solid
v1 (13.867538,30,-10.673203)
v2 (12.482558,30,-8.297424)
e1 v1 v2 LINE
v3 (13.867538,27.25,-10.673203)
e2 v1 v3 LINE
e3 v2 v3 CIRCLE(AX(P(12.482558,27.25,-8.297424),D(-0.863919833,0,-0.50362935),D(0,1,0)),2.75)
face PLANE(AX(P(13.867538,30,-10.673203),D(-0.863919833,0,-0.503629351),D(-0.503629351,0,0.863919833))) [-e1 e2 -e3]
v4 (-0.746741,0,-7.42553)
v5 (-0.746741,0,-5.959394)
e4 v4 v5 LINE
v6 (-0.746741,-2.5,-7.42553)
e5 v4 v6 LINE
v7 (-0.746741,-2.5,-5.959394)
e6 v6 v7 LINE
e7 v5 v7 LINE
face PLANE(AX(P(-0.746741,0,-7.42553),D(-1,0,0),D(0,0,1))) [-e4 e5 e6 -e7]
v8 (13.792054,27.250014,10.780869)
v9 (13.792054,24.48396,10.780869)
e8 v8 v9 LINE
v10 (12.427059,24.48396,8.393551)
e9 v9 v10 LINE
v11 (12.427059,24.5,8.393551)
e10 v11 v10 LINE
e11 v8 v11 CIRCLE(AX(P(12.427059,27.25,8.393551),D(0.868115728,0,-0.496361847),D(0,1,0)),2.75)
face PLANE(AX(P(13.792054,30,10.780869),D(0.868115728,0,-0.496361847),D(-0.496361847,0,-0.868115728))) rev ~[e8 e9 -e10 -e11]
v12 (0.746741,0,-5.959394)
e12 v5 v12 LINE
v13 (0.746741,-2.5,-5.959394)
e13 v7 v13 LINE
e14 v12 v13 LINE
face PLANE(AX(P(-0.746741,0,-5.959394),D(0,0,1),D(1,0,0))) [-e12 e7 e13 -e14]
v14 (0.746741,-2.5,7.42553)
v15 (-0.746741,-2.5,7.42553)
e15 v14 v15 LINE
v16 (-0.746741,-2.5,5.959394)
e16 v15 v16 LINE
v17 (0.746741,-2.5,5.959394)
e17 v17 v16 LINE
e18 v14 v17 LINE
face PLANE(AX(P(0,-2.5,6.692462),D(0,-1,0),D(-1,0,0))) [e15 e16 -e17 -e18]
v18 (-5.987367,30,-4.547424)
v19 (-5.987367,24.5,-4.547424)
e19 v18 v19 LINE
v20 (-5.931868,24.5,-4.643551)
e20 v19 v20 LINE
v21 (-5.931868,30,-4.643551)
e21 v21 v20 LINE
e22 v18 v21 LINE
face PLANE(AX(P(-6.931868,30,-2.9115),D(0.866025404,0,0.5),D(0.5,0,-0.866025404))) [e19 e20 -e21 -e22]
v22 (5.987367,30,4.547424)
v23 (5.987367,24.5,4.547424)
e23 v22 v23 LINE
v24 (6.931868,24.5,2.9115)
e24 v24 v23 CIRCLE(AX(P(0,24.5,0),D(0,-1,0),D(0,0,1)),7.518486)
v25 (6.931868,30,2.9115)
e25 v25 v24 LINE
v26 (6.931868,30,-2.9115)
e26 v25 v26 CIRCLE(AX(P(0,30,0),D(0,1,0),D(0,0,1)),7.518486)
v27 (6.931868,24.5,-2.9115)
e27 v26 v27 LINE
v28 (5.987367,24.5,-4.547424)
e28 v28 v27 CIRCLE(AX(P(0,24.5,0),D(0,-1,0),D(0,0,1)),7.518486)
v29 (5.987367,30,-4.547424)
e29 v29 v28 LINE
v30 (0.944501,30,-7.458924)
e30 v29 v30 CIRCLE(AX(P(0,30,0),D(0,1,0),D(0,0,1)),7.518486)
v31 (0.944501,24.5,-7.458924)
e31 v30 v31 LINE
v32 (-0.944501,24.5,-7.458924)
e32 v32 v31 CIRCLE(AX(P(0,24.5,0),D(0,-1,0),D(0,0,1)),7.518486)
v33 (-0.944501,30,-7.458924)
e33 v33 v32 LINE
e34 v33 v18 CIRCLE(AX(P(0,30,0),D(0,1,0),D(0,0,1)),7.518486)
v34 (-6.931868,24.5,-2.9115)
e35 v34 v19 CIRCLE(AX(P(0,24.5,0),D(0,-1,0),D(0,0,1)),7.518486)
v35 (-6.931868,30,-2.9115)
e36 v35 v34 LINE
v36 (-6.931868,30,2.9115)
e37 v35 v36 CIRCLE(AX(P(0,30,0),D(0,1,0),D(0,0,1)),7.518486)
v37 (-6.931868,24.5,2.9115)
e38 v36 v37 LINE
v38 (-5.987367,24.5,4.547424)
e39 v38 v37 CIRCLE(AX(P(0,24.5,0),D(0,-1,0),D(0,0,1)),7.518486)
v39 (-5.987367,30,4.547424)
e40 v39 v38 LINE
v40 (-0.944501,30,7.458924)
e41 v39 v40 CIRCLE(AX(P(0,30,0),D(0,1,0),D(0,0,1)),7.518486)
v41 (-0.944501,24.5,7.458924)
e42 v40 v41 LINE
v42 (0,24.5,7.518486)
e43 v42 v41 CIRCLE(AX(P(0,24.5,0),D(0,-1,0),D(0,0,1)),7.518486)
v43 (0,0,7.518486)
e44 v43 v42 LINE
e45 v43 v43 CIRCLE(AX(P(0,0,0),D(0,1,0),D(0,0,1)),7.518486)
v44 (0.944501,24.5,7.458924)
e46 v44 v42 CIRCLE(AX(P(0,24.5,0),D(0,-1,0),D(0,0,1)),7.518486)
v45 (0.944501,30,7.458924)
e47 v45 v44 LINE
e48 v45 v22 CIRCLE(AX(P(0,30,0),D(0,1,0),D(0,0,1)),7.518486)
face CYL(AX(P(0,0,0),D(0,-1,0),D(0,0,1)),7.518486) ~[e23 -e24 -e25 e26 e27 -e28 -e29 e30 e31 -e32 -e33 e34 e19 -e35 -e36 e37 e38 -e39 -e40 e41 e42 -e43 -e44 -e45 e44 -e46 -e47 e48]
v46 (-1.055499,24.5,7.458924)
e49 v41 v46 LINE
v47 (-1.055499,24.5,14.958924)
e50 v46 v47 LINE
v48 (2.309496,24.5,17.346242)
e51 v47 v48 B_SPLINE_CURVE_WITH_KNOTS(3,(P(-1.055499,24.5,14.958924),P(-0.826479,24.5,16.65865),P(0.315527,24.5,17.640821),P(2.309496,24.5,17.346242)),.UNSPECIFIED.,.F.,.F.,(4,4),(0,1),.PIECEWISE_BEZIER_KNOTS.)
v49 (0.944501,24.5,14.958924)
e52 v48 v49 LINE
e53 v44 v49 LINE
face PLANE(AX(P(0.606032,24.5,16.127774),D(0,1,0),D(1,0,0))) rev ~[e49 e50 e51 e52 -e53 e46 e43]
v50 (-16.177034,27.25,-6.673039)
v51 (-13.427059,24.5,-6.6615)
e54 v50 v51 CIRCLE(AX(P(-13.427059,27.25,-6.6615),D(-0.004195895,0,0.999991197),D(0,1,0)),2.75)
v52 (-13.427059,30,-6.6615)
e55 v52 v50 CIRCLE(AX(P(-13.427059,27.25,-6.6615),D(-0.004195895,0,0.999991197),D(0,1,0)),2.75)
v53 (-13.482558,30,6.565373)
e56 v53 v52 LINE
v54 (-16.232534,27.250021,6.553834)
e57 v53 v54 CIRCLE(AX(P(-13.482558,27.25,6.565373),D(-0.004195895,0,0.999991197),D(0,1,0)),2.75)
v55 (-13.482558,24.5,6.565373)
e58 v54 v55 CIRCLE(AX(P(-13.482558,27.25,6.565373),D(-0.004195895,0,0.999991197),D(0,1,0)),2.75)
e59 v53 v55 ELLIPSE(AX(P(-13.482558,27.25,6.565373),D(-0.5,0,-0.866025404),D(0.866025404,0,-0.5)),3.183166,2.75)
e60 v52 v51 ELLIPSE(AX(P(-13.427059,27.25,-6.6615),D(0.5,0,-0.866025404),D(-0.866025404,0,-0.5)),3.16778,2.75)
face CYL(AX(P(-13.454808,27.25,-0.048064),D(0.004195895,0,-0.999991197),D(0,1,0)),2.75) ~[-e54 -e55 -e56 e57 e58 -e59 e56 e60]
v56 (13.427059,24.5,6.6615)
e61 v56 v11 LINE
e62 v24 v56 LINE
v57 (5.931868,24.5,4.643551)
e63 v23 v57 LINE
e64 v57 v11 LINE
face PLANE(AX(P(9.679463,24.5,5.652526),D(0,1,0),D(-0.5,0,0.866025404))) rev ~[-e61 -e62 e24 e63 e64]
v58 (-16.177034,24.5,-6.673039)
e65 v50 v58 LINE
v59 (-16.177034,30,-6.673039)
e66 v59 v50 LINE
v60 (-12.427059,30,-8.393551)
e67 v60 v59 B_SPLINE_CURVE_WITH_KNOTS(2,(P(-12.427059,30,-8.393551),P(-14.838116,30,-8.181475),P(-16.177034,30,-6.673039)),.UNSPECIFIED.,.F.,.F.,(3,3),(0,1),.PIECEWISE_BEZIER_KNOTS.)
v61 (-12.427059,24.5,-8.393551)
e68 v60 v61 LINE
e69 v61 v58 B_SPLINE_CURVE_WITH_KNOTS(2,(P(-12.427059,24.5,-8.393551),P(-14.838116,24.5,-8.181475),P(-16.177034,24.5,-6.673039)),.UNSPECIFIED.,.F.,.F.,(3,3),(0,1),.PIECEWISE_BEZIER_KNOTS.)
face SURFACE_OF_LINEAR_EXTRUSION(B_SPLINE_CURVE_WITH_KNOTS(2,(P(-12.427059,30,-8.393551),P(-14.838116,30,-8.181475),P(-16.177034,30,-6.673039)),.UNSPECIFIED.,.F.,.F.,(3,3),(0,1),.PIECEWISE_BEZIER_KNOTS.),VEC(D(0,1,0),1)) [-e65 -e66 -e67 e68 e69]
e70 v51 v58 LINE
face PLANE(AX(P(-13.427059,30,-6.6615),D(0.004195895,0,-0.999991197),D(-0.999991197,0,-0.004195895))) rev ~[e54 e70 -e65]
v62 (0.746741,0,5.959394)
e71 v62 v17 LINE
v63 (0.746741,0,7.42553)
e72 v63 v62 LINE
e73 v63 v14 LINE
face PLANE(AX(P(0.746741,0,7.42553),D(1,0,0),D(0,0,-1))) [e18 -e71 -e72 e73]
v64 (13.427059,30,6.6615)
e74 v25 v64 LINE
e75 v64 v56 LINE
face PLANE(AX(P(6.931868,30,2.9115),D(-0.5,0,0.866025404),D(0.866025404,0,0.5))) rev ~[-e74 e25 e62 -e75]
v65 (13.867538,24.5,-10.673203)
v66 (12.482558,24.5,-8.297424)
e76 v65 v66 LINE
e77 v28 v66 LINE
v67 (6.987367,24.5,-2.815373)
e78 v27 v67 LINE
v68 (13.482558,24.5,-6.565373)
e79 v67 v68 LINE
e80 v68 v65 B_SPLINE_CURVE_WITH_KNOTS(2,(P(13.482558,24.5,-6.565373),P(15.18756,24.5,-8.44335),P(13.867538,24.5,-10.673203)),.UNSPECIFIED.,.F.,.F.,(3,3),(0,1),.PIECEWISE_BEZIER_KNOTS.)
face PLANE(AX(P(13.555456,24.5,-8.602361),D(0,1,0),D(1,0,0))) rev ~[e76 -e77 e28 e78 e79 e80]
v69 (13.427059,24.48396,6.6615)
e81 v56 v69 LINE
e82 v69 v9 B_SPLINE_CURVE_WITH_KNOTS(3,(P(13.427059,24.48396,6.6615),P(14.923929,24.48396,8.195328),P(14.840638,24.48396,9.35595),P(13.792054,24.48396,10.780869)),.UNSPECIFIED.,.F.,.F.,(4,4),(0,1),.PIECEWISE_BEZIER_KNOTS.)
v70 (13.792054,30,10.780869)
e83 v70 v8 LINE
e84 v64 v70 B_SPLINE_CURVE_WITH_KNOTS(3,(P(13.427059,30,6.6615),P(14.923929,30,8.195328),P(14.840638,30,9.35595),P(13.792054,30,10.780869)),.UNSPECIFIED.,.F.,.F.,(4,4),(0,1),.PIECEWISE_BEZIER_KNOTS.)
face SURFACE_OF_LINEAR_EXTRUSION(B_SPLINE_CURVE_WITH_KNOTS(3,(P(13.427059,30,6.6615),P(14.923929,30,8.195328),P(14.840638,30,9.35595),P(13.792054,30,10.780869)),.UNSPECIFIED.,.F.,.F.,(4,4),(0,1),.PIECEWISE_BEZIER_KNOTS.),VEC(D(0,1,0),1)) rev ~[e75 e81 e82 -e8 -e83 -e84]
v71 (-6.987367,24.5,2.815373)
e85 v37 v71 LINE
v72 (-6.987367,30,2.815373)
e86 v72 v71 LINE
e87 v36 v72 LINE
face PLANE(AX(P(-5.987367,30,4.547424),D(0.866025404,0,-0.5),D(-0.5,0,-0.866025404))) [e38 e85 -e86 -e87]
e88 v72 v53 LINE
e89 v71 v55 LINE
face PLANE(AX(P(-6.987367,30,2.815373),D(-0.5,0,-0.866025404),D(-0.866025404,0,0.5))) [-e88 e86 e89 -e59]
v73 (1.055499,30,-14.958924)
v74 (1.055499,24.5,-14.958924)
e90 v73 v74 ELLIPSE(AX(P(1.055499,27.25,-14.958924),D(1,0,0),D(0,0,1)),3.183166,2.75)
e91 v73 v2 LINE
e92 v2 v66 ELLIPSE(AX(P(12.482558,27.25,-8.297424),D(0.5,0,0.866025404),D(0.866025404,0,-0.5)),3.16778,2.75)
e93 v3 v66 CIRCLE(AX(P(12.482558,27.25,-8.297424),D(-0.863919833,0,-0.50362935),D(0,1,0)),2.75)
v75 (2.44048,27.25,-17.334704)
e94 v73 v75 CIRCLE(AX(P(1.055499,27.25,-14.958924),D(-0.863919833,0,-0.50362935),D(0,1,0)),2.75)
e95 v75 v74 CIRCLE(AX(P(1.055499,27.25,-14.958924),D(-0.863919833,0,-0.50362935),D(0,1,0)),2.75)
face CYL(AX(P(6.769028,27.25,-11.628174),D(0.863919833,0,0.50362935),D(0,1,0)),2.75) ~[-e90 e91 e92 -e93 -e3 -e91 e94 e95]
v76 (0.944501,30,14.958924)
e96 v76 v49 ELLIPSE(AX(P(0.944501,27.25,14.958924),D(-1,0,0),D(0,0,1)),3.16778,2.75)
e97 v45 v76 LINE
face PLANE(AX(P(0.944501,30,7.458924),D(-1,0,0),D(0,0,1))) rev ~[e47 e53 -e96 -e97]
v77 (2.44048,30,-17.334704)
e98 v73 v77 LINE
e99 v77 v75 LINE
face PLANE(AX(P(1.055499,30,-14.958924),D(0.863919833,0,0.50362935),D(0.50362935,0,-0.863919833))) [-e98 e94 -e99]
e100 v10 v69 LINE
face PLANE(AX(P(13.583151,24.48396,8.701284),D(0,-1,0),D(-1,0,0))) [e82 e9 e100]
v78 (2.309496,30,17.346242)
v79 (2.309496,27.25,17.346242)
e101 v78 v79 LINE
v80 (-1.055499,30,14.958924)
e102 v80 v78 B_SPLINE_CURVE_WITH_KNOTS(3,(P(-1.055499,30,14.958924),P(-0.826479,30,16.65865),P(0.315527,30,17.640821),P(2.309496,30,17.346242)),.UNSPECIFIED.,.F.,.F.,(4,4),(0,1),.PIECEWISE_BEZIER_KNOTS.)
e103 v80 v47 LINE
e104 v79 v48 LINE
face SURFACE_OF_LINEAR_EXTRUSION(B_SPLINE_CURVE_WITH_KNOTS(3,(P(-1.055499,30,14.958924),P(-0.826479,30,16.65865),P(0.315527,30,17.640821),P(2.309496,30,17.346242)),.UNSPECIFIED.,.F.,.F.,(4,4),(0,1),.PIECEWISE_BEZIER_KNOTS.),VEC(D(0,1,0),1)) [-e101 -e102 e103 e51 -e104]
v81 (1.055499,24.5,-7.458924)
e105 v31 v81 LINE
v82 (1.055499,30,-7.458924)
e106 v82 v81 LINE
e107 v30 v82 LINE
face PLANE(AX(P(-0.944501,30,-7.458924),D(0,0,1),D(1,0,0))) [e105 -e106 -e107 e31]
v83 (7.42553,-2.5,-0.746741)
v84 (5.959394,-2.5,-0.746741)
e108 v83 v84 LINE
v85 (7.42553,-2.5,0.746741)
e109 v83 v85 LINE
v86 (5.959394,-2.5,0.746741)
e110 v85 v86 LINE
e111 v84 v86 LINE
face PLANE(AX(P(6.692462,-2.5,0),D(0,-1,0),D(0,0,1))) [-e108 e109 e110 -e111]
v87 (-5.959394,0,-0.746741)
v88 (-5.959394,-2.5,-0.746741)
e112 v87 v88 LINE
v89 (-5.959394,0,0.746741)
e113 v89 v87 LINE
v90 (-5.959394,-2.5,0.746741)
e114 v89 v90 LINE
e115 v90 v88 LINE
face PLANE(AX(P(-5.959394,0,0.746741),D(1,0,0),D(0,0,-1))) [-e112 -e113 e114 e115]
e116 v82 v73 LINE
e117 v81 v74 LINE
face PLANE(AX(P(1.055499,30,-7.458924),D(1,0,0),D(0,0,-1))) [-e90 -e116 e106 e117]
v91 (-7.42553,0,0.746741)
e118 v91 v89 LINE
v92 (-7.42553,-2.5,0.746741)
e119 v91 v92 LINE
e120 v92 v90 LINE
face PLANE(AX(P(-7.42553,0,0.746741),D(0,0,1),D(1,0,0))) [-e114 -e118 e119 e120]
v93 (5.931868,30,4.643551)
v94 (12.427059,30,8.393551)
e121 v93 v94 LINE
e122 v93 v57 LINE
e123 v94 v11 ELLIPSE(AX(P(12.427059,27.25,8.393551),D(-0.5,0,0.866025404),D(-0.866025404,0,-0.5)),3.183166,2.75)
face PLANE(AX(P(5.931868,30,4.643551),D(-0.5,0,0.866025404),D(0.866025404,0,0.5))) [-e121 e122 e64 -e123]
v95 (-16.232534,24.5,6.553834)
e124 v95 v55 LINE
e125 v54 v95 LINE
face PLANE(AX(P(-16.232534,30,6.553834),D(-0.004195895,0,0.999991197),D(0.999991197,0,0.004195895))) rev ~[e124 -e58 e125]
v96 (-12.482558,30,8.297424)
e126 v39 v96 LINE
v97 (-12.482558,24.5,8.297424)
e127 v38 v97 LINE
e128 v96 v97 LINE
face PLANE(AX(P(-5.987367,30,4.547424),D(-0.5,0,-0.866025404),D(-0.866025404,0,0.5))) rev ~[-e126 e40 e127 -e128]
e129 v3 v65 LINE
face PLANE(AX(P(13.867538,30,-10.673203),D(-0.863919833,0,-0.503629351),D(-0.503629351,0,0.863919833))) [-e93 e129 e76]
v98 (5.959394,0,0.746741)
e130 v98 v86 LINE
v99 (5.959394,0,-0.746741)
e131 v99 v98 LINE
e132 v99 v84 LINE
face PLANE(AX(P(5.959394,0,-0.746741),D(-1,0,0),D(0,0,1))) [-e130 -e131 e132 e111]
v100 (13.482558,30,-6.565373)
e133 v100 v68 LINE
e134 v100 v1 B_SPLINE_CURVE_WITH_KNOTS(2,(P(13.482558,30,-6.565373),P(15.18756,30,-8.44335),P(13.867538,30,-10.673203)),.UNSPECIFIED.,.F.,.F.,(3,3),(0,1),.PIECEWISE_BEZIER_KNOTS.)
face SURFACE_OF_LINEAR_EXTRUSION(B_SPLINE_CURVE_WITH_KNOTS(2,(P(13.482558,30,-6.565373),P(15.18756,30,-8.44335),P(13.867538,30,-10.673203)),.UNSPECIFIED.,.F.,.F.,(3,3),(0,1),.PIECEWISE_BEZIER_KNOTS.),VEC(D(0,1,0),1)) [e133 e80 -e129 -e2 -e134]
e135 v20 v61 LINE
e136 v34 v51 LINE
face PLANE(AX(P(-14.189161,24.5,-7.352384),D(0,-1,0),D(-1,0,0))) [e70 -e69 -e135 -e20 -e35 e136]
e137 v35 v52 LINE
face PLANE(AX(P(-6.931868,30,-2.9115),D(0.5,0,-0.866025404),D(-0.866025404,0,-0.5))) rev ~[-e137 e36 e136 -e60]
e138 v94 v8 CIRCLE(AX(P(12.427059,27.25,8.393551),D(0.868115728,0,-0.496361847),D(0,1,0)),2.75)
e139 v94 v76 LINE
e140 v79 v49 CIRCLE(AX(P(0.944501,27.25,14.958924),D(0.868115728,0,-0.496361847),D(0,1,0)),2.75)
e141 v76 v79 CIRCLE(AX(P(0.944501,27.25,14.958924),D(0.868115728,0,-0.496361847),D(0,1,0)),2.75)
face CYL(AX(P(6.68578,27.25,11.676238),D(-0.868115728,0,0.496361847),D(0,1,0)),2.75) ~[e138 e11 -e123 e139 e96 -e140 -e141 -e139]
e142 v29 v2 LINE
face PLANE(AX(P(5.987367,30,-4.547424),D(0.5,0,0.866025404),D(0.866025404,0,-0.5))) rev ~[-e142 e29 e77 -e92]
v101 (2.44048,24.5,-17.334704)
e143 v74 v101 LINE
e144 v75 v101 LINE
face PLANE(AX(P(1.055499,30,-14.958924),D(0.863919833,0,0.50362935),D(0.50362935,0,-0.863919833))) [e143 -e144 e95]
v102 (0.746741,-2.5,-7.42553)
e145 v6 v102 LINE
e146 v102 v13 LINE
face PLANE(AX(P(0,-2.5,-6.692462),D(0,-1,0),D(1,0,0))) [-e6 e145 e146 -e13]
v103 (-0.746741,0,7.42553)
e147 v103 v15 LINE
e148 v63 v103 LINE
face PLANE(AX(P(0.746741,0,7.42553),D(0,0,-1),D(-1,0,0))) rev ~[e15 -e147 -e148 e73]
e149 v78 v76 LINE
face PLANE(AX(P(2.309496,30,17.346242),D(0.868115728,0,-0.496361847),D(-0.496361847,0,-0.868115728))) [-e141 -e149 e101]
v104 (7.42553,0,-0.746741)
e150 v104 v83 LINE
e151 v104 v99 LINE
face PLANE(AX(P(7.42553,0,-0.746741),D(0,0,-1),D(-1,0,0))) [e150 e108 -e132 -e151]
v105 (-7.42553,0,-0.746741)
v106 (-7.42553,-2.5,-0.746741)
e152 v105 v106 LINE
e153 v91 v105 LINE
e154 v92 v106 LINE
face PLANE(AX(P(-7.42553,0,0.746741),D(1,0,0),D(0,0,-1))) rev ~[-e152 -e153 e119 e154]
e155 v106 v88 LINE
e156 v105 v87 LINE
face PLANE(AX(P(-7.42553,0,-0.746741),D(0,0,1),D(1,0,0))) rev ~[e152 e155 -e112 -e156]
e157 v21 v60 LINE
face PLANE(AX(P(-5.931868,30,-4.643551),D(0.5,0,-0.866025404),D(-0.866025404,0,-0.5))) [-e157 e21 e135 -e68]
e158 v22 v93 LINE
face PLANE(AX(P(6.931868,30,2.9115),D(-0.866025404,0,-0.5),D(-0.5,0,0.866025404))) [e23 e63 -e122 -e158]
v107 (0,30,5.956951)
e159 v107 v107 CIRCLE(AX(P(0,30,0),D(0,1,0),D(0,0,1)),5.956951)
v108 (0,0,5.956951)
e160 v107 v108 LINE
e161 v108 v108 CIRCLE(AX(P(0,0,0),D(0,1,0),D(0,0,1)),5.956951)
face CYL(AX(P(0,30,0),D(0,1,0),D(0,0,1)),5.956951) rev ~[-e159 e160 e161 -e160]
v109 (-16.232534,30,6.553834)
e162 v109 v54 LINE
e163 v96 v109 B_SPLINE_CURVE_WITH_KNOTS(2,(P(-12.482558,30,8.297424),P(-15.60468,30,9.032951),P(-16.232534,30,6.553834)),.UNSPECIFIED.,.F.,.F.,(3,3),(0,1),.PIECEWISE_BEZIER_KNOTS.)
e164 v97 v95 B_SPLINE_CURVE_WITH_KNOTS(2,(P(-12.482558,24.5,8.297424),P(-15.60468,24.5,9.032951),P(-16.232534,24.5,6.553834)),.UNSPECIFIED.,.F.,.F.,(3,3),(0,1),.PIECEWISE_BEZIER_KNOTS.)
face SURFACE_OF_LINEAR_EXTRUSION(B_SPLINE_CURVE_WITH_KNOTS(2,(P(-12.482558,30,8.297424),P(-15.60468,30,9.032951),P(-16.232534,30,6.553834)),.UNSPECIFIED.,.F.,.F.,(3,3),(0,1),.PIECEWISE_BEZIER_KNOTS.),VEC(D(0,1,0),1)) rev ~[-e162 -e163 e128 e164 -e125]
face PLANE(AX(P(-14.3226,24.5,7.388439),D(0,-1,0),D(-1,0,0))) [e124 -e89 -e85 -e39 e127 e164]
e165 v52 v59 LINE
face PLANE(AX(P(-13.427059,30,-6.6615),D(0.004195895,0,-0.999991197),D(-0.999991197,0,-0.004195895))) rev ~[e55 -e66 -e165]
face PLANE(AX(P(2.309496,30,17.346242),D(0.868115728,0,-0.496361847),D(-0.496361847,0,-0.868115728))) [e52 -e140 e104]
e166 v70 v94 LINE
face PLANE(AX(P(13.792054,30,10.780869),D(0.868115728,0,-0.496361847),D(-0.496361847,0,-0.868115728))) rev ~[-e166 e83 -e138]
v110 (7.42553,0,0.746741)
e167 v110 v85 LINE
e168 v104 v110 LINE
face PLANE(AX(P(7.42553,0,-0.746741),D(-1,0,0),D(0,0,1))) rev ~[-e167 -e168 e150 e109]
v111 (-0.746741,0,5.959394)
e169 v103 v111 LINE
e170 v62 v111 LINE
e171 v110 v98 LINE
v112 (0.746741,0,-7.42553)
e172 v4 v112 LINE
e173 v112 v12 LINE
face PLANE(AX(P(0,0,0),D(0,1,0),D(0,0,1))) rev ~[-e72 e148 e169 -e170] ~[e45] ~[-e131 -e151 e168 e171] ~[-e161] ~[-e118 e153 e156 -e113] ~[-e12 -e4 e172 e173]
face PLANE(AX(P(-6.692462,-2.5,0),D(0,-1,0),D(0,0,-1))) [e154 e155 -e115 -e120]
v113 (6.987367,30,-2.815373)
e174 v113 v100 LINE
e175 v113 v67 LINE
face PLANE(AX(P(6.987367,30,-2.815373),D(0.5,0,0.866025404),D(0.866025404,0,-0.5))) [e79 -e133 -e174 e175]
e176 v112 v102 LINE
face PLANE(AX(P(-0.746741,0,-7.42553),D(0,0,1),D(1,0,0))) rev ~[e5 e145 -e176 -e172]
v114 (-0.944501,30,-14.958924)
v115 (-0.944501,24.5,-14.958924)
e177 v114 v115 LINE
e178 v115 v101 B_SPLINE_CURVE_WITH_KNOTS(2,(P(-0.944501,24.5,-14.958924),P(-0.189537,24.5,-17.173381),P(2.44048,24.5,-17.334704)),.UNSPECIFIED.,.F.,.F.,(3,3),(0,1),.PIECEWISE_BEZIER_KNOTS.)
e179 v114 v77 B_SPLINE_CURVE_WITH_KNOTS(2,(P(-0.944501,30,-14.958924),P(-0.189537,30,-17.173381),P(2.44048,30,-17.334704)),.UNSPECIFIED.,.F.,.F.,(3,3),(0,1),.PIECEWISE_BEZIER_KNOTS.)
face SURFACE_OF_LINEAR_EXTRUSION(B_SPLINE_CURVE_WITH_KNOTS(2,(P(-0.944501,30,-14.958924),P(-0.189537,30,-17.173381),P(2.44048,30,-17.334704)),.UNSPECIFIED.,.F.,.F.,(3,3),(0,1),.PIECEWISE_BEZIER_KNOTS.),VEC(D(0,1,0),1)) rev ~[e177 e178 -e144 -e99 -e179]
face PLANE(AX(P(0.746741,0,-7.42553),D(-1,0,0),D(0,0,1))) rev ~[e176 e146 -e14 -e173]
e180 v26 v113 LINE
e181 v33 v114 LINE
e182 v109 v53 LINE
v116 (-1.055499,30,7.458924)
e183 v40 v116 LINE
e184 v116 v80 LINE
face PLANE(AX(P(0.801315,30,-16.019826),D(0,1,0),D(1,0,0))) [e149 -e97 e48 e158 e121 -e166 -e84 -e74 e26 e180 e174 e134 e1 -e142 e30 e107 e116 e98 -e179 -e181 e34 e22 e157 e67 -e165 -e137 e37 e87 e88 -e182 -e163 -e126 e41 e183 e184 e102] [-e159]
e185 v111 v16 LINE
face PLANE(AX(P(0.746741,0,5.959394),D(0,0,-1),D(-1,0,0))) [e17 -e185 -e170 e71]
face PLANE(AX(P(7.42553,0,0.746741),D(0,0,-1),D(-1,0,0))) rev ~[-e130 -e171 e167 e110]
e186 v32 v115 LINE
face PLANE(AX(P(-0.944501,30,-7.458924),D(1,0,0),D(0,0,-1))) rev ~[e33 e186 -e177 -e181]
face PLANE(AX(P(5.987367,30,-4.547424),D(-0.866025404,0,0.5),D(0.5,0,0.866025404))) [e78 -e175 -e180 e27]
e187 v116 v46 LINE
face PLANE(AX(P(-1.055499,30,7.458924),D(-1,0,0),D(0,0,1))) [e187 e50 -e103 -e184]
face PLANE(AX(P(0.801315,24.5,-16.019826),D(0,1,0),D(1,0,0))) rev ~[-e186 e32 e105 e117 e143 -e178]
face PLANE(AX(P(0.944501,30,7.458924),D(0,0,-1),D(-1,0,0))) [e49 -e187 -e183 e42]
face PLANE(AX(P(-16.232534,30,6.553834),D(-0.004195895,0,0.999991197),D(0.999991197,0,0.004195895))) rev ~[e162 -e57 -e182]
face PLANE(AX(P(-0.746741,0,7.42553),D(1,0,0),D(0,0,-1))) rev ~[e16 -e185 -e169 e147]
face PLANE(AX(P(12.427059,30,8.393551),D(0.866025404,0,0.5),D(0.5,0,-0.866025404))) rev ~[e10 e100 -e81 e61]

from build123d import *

# Parameters (mm, degrees)
SKETCH1_R            = 7.518485851
BOSS_EXTRUDE1_DEPTH  = 30
SKETCH7_R            = 5.956950852
CUT_EXTRUDE1_DEPTH   = 60
SKETCH8_W            = 2
SKETCH8_H            = 7.5
BOSS_EXTRUDE4_DEPTH  = 5.5
CIRPATTERN7_COUNT    = 6
SKETCH13_W           = 13.226989642
SKETCH13_H           = 2.75
BOSS_EXTRUDE6_DEPTH  = 5.5
BOSS_EXTRUDE7_DEPTH  = 5.516040115
CIRPATTERN10_COUNT   = 3
BOSS_EXTRUDE8_DEPTH  = 5.5
BOSS_EXTRUDE11_DEPTH = 5.5
BOSS_EXTRUDE12_DEPTH = 5.5
BOSS_EXTRUDE13_DEPTH = 5.5
SKETCH30_W           = 1.493482136
SKETCH30_H           = 1.466135263
BOSS_EXTRUDE15_DEPTH = 2.5
CIRPATTERN11_COUNT   = 4


with BuildPart() as part:
    # Sketch1 → Boss-Extrude1 (new body)
    with BuildSketch(Plane(origin=(0, 0, 0), x_dir=(1, 0, 0), z_dir=(0, 1, 0))):
        with Locations(Location((0, 0, 0), (0, 0, 270))):
            Circle(SKETCH1_R)
    extrude(amount=BOSS_EXTRUDE1_DEPTH)

    # Sketch7 → Cut-Extrude1 (cut)
    with BuildSketch(Plane(origin=(0, 30, 0), x_dir=(1, 0, 0), z_dir=(0, 1, 0))):
        with Locations(Location((0, 0, 0), (0, 0, 270))):
            Circle(SKETCH7_R)
    extrude(amount=-CUT_EXTRUDE1_DEPTH, mode=Mode.SUBTRACT)

    # Sketch8 → Boss-Extrude4 (add)
    with BuildSketch(Plane(origin=(0, 30, 0), x_dir=(1, 0, 0), z_dir=(0, 1, 0))):
        with Locations((0.055499062, 11.208924015)):
            Rectangle(SKETCH8_W, SKETCH8_H)
    boss_extrude4 = extrude(amount=-BOSS_EXTRUDE4_DEPTH)

    # CirPattern7: Boss-Extrude4 ×6 about axis
    cirpattern7_axis = Axis((0, 0, 0), (0, 1, 0))
    for i in range(1, CIRPATTERN7_COUNT):
        add(boss_extrude4.rotate(cirpattern7_axis, i * 360 / CIRPATTERN7_COUNT))

    # Sketch13 → Revolve1 (revolve)
    with BuildSketch(Plane(origin=(6.678494764, 0, 11.680402876), x_dir=(-0.8681157278989303, 0, 0.4963618468159196), z_dir=(-0.49636184681591955, 0, -0.8681157278989302))):
        with Locations((-0.00839179, 28.625)):
            Rectangle(SKETCH13_W, SKETCH13_H)
    revolve1 = revolve(axis=Axis((0.944500938, 27.25, 14.958924015), (0.8681157278989303, 0, -0.4963618468159195)))

    # Sketch15 → Boss-Extrude6 (add)
    with BuildSketch(Plane(origin=(0, 30, 0), x_dir=(1, 0, 0), z_dir=(0, 1, 0))):
        with BuildLine():
            Line((2.309496017, -17.346242267), (0.944500938, -14.958924015))
            Line((0.944500938, -14.958924015), (-1.055499062, -14.958924015))
            add(Edge.make_bspline(
                [(-1.055499062, -14.958924015), (-0.826479447, -16.658649969), (0.315527094, -17.640821071), (2.309496017, -17.346242267)],
                knots=[0, 0, 0, 0, 1, 1, 1, 1], degree=3))
        make_face()
    extrude(amount=-BOSS_EXTRUDE6_DEPTH)

    # Sketch20 → Boss-Extrude7 (add)
    with BuildSketch(Plane(origin=(0, 30, 0), x_dir=(1, 0, 0), z_dir=(0, 1, 0))):
        with BuildLine():
            Line((13.792053758, -10.78086926), (12.42705868, -8.393551008))
            Line((12.42705868, -8.393551008), (13.42705868, -6.661500201))
            add(Edge.make_bspline(
                [(13.42705868, -6.661500201), (14.923928961, -8.195328029), (14.840637873, -9.355950273), (13.792053758, -10.78086926)],
                knots=[0, 0, 0, 0, 1, 1, 1, 1], degree=3))
        make_face()
    extrude(amount=-BOSS_EXTRUDE7_DEPTH)

    # CirPattern10: Revolve1 ×3 about axis
    cirpattern10_axis = Axis((0, -30, 0), (0, 1, 0))
    for i in range(1, CIRPATTERN10_COUNT):
        add(revolve1.rotate(cirpattern10_axis, i * 360 / CIRPATTERN10_COUNT))

    # Sketch21 → Boss-Extrude8 (add)
    with BuildSketch(Plane(origin=(0, 30, 0), x_dir=(1, 0, 0), z_dir=(0, 1, 0))):
        with BuildLine():
            Line((-16.232533533, -6.553834295), (-13.482557741, -6.565373007))
            Line((-13.482557741, -6.565373007), (-12.482557741, -8.297423814))
            add(Edge.make_bspline(
                [(-12.482557741, -8.297423814), (-15.604680205, -9.03295077), (-16.232533533, -6.553834295)],
                knots=[0, 0, 0, 1, 1, 1], degree=2))
        make_face()
    extrude(amount=-BOSS_EXTRUDE8_DEPTH)

    # Sketch24 → Boss-Extrude11 (add)
    with BuildSketch(Plane(origin=(0, 30, 0), x_dir=(1, 0, 0), z_dir=(0, 1, 0))):
        with BuildLine():
            Line((-13.42705868, 6.661500201), (-16.177034472, 6.673038913))
            add(Edge.make_bspline(
                [(-12.42705868, 8.393551008), (-14.838115801, 8.181475497), (-16.177034472, 6.673038913)],
                knots=[0, 0, 0, 1, 1, 1], degree=2))
            Line((-12.42705868, 8.393551008), (-13.42705868, 6.661500201))
        make_face()
    extrude(amount=-BOSS_EXTRUDE11_DEPTH)

    # Sketch26 → Boss-Extrude12 (add)
    with BuildSketch(Plane(origin=(0, 30, 0), x_dir=(1, 0, 0), z_dir=(0, 1, 0))):
        with BuildLine():
            Line((13.867538455, 10.673203354), (12.482557741, 8.297423814))
            Line((12.482557741, 8.297423814), (13.482557741, 6.565373007))
            add(Edge.make_bspline(
                [(13.482557741, 6.565373007), (15.18756028, 8.443349852), (13.867538455, 10.673203354)],
                knots=[0, 0, 0, 1, 1, 1], degree=2))
        make_face()
    extrude(amount=-BOSS_EXTRUDE12_DEPTH)

    # Sketch27 → Boss-Extrude13 (add)
    with BuildSketch(Plane(origin=(0, 30, 0), x_dir=(1, 0, 0), z_dir=(0, 1, 0))):
        with BuildLine():
            Line((-0.944500938, 14.958924015), (1.055499062, 14.958924015))
            Line((1.055499062, 14.958924015), (2.440479775, 17.334703555))
            add(Edge.make_bspline(
                [(-0.944500938, 14.958924015), (-0.189537041, 17.173381249), (2.440479775, 17.334703555)],
                knots=[0, 0, 0, 1, 1, 1], degree=2))
        make_face()
    extrude(amount=-BOSS_EXTRUDE13_DEPTH)

    # Sketch30 → Boss-Extrude15 (add)
    with BuildSketch(Plane(origin=(0, 0, 0), x_dir=(-1, 0, 0), z_dir=(0, -1, 0))):
        with Locations((0, -6.69246192)):
            Rectangle(SKETCH30_W, SKETCH30_H)
    boss_extrude15 = extrude(amount=BOSS_EXTRUDE15_DEPTH)

    # CirPattern11: Boss-Extrude15 ×4 about axis
    cirpattern11_axis = Axis((0, 0, 0), (0, 1, 0))
    for i in range(1, CIRPATTERN11_COUNT):
        add(boss_extrude15.rotate(cirpattern11_axis, i * 360 / CIRPATTERN11_COUNT))


solid = part.part
